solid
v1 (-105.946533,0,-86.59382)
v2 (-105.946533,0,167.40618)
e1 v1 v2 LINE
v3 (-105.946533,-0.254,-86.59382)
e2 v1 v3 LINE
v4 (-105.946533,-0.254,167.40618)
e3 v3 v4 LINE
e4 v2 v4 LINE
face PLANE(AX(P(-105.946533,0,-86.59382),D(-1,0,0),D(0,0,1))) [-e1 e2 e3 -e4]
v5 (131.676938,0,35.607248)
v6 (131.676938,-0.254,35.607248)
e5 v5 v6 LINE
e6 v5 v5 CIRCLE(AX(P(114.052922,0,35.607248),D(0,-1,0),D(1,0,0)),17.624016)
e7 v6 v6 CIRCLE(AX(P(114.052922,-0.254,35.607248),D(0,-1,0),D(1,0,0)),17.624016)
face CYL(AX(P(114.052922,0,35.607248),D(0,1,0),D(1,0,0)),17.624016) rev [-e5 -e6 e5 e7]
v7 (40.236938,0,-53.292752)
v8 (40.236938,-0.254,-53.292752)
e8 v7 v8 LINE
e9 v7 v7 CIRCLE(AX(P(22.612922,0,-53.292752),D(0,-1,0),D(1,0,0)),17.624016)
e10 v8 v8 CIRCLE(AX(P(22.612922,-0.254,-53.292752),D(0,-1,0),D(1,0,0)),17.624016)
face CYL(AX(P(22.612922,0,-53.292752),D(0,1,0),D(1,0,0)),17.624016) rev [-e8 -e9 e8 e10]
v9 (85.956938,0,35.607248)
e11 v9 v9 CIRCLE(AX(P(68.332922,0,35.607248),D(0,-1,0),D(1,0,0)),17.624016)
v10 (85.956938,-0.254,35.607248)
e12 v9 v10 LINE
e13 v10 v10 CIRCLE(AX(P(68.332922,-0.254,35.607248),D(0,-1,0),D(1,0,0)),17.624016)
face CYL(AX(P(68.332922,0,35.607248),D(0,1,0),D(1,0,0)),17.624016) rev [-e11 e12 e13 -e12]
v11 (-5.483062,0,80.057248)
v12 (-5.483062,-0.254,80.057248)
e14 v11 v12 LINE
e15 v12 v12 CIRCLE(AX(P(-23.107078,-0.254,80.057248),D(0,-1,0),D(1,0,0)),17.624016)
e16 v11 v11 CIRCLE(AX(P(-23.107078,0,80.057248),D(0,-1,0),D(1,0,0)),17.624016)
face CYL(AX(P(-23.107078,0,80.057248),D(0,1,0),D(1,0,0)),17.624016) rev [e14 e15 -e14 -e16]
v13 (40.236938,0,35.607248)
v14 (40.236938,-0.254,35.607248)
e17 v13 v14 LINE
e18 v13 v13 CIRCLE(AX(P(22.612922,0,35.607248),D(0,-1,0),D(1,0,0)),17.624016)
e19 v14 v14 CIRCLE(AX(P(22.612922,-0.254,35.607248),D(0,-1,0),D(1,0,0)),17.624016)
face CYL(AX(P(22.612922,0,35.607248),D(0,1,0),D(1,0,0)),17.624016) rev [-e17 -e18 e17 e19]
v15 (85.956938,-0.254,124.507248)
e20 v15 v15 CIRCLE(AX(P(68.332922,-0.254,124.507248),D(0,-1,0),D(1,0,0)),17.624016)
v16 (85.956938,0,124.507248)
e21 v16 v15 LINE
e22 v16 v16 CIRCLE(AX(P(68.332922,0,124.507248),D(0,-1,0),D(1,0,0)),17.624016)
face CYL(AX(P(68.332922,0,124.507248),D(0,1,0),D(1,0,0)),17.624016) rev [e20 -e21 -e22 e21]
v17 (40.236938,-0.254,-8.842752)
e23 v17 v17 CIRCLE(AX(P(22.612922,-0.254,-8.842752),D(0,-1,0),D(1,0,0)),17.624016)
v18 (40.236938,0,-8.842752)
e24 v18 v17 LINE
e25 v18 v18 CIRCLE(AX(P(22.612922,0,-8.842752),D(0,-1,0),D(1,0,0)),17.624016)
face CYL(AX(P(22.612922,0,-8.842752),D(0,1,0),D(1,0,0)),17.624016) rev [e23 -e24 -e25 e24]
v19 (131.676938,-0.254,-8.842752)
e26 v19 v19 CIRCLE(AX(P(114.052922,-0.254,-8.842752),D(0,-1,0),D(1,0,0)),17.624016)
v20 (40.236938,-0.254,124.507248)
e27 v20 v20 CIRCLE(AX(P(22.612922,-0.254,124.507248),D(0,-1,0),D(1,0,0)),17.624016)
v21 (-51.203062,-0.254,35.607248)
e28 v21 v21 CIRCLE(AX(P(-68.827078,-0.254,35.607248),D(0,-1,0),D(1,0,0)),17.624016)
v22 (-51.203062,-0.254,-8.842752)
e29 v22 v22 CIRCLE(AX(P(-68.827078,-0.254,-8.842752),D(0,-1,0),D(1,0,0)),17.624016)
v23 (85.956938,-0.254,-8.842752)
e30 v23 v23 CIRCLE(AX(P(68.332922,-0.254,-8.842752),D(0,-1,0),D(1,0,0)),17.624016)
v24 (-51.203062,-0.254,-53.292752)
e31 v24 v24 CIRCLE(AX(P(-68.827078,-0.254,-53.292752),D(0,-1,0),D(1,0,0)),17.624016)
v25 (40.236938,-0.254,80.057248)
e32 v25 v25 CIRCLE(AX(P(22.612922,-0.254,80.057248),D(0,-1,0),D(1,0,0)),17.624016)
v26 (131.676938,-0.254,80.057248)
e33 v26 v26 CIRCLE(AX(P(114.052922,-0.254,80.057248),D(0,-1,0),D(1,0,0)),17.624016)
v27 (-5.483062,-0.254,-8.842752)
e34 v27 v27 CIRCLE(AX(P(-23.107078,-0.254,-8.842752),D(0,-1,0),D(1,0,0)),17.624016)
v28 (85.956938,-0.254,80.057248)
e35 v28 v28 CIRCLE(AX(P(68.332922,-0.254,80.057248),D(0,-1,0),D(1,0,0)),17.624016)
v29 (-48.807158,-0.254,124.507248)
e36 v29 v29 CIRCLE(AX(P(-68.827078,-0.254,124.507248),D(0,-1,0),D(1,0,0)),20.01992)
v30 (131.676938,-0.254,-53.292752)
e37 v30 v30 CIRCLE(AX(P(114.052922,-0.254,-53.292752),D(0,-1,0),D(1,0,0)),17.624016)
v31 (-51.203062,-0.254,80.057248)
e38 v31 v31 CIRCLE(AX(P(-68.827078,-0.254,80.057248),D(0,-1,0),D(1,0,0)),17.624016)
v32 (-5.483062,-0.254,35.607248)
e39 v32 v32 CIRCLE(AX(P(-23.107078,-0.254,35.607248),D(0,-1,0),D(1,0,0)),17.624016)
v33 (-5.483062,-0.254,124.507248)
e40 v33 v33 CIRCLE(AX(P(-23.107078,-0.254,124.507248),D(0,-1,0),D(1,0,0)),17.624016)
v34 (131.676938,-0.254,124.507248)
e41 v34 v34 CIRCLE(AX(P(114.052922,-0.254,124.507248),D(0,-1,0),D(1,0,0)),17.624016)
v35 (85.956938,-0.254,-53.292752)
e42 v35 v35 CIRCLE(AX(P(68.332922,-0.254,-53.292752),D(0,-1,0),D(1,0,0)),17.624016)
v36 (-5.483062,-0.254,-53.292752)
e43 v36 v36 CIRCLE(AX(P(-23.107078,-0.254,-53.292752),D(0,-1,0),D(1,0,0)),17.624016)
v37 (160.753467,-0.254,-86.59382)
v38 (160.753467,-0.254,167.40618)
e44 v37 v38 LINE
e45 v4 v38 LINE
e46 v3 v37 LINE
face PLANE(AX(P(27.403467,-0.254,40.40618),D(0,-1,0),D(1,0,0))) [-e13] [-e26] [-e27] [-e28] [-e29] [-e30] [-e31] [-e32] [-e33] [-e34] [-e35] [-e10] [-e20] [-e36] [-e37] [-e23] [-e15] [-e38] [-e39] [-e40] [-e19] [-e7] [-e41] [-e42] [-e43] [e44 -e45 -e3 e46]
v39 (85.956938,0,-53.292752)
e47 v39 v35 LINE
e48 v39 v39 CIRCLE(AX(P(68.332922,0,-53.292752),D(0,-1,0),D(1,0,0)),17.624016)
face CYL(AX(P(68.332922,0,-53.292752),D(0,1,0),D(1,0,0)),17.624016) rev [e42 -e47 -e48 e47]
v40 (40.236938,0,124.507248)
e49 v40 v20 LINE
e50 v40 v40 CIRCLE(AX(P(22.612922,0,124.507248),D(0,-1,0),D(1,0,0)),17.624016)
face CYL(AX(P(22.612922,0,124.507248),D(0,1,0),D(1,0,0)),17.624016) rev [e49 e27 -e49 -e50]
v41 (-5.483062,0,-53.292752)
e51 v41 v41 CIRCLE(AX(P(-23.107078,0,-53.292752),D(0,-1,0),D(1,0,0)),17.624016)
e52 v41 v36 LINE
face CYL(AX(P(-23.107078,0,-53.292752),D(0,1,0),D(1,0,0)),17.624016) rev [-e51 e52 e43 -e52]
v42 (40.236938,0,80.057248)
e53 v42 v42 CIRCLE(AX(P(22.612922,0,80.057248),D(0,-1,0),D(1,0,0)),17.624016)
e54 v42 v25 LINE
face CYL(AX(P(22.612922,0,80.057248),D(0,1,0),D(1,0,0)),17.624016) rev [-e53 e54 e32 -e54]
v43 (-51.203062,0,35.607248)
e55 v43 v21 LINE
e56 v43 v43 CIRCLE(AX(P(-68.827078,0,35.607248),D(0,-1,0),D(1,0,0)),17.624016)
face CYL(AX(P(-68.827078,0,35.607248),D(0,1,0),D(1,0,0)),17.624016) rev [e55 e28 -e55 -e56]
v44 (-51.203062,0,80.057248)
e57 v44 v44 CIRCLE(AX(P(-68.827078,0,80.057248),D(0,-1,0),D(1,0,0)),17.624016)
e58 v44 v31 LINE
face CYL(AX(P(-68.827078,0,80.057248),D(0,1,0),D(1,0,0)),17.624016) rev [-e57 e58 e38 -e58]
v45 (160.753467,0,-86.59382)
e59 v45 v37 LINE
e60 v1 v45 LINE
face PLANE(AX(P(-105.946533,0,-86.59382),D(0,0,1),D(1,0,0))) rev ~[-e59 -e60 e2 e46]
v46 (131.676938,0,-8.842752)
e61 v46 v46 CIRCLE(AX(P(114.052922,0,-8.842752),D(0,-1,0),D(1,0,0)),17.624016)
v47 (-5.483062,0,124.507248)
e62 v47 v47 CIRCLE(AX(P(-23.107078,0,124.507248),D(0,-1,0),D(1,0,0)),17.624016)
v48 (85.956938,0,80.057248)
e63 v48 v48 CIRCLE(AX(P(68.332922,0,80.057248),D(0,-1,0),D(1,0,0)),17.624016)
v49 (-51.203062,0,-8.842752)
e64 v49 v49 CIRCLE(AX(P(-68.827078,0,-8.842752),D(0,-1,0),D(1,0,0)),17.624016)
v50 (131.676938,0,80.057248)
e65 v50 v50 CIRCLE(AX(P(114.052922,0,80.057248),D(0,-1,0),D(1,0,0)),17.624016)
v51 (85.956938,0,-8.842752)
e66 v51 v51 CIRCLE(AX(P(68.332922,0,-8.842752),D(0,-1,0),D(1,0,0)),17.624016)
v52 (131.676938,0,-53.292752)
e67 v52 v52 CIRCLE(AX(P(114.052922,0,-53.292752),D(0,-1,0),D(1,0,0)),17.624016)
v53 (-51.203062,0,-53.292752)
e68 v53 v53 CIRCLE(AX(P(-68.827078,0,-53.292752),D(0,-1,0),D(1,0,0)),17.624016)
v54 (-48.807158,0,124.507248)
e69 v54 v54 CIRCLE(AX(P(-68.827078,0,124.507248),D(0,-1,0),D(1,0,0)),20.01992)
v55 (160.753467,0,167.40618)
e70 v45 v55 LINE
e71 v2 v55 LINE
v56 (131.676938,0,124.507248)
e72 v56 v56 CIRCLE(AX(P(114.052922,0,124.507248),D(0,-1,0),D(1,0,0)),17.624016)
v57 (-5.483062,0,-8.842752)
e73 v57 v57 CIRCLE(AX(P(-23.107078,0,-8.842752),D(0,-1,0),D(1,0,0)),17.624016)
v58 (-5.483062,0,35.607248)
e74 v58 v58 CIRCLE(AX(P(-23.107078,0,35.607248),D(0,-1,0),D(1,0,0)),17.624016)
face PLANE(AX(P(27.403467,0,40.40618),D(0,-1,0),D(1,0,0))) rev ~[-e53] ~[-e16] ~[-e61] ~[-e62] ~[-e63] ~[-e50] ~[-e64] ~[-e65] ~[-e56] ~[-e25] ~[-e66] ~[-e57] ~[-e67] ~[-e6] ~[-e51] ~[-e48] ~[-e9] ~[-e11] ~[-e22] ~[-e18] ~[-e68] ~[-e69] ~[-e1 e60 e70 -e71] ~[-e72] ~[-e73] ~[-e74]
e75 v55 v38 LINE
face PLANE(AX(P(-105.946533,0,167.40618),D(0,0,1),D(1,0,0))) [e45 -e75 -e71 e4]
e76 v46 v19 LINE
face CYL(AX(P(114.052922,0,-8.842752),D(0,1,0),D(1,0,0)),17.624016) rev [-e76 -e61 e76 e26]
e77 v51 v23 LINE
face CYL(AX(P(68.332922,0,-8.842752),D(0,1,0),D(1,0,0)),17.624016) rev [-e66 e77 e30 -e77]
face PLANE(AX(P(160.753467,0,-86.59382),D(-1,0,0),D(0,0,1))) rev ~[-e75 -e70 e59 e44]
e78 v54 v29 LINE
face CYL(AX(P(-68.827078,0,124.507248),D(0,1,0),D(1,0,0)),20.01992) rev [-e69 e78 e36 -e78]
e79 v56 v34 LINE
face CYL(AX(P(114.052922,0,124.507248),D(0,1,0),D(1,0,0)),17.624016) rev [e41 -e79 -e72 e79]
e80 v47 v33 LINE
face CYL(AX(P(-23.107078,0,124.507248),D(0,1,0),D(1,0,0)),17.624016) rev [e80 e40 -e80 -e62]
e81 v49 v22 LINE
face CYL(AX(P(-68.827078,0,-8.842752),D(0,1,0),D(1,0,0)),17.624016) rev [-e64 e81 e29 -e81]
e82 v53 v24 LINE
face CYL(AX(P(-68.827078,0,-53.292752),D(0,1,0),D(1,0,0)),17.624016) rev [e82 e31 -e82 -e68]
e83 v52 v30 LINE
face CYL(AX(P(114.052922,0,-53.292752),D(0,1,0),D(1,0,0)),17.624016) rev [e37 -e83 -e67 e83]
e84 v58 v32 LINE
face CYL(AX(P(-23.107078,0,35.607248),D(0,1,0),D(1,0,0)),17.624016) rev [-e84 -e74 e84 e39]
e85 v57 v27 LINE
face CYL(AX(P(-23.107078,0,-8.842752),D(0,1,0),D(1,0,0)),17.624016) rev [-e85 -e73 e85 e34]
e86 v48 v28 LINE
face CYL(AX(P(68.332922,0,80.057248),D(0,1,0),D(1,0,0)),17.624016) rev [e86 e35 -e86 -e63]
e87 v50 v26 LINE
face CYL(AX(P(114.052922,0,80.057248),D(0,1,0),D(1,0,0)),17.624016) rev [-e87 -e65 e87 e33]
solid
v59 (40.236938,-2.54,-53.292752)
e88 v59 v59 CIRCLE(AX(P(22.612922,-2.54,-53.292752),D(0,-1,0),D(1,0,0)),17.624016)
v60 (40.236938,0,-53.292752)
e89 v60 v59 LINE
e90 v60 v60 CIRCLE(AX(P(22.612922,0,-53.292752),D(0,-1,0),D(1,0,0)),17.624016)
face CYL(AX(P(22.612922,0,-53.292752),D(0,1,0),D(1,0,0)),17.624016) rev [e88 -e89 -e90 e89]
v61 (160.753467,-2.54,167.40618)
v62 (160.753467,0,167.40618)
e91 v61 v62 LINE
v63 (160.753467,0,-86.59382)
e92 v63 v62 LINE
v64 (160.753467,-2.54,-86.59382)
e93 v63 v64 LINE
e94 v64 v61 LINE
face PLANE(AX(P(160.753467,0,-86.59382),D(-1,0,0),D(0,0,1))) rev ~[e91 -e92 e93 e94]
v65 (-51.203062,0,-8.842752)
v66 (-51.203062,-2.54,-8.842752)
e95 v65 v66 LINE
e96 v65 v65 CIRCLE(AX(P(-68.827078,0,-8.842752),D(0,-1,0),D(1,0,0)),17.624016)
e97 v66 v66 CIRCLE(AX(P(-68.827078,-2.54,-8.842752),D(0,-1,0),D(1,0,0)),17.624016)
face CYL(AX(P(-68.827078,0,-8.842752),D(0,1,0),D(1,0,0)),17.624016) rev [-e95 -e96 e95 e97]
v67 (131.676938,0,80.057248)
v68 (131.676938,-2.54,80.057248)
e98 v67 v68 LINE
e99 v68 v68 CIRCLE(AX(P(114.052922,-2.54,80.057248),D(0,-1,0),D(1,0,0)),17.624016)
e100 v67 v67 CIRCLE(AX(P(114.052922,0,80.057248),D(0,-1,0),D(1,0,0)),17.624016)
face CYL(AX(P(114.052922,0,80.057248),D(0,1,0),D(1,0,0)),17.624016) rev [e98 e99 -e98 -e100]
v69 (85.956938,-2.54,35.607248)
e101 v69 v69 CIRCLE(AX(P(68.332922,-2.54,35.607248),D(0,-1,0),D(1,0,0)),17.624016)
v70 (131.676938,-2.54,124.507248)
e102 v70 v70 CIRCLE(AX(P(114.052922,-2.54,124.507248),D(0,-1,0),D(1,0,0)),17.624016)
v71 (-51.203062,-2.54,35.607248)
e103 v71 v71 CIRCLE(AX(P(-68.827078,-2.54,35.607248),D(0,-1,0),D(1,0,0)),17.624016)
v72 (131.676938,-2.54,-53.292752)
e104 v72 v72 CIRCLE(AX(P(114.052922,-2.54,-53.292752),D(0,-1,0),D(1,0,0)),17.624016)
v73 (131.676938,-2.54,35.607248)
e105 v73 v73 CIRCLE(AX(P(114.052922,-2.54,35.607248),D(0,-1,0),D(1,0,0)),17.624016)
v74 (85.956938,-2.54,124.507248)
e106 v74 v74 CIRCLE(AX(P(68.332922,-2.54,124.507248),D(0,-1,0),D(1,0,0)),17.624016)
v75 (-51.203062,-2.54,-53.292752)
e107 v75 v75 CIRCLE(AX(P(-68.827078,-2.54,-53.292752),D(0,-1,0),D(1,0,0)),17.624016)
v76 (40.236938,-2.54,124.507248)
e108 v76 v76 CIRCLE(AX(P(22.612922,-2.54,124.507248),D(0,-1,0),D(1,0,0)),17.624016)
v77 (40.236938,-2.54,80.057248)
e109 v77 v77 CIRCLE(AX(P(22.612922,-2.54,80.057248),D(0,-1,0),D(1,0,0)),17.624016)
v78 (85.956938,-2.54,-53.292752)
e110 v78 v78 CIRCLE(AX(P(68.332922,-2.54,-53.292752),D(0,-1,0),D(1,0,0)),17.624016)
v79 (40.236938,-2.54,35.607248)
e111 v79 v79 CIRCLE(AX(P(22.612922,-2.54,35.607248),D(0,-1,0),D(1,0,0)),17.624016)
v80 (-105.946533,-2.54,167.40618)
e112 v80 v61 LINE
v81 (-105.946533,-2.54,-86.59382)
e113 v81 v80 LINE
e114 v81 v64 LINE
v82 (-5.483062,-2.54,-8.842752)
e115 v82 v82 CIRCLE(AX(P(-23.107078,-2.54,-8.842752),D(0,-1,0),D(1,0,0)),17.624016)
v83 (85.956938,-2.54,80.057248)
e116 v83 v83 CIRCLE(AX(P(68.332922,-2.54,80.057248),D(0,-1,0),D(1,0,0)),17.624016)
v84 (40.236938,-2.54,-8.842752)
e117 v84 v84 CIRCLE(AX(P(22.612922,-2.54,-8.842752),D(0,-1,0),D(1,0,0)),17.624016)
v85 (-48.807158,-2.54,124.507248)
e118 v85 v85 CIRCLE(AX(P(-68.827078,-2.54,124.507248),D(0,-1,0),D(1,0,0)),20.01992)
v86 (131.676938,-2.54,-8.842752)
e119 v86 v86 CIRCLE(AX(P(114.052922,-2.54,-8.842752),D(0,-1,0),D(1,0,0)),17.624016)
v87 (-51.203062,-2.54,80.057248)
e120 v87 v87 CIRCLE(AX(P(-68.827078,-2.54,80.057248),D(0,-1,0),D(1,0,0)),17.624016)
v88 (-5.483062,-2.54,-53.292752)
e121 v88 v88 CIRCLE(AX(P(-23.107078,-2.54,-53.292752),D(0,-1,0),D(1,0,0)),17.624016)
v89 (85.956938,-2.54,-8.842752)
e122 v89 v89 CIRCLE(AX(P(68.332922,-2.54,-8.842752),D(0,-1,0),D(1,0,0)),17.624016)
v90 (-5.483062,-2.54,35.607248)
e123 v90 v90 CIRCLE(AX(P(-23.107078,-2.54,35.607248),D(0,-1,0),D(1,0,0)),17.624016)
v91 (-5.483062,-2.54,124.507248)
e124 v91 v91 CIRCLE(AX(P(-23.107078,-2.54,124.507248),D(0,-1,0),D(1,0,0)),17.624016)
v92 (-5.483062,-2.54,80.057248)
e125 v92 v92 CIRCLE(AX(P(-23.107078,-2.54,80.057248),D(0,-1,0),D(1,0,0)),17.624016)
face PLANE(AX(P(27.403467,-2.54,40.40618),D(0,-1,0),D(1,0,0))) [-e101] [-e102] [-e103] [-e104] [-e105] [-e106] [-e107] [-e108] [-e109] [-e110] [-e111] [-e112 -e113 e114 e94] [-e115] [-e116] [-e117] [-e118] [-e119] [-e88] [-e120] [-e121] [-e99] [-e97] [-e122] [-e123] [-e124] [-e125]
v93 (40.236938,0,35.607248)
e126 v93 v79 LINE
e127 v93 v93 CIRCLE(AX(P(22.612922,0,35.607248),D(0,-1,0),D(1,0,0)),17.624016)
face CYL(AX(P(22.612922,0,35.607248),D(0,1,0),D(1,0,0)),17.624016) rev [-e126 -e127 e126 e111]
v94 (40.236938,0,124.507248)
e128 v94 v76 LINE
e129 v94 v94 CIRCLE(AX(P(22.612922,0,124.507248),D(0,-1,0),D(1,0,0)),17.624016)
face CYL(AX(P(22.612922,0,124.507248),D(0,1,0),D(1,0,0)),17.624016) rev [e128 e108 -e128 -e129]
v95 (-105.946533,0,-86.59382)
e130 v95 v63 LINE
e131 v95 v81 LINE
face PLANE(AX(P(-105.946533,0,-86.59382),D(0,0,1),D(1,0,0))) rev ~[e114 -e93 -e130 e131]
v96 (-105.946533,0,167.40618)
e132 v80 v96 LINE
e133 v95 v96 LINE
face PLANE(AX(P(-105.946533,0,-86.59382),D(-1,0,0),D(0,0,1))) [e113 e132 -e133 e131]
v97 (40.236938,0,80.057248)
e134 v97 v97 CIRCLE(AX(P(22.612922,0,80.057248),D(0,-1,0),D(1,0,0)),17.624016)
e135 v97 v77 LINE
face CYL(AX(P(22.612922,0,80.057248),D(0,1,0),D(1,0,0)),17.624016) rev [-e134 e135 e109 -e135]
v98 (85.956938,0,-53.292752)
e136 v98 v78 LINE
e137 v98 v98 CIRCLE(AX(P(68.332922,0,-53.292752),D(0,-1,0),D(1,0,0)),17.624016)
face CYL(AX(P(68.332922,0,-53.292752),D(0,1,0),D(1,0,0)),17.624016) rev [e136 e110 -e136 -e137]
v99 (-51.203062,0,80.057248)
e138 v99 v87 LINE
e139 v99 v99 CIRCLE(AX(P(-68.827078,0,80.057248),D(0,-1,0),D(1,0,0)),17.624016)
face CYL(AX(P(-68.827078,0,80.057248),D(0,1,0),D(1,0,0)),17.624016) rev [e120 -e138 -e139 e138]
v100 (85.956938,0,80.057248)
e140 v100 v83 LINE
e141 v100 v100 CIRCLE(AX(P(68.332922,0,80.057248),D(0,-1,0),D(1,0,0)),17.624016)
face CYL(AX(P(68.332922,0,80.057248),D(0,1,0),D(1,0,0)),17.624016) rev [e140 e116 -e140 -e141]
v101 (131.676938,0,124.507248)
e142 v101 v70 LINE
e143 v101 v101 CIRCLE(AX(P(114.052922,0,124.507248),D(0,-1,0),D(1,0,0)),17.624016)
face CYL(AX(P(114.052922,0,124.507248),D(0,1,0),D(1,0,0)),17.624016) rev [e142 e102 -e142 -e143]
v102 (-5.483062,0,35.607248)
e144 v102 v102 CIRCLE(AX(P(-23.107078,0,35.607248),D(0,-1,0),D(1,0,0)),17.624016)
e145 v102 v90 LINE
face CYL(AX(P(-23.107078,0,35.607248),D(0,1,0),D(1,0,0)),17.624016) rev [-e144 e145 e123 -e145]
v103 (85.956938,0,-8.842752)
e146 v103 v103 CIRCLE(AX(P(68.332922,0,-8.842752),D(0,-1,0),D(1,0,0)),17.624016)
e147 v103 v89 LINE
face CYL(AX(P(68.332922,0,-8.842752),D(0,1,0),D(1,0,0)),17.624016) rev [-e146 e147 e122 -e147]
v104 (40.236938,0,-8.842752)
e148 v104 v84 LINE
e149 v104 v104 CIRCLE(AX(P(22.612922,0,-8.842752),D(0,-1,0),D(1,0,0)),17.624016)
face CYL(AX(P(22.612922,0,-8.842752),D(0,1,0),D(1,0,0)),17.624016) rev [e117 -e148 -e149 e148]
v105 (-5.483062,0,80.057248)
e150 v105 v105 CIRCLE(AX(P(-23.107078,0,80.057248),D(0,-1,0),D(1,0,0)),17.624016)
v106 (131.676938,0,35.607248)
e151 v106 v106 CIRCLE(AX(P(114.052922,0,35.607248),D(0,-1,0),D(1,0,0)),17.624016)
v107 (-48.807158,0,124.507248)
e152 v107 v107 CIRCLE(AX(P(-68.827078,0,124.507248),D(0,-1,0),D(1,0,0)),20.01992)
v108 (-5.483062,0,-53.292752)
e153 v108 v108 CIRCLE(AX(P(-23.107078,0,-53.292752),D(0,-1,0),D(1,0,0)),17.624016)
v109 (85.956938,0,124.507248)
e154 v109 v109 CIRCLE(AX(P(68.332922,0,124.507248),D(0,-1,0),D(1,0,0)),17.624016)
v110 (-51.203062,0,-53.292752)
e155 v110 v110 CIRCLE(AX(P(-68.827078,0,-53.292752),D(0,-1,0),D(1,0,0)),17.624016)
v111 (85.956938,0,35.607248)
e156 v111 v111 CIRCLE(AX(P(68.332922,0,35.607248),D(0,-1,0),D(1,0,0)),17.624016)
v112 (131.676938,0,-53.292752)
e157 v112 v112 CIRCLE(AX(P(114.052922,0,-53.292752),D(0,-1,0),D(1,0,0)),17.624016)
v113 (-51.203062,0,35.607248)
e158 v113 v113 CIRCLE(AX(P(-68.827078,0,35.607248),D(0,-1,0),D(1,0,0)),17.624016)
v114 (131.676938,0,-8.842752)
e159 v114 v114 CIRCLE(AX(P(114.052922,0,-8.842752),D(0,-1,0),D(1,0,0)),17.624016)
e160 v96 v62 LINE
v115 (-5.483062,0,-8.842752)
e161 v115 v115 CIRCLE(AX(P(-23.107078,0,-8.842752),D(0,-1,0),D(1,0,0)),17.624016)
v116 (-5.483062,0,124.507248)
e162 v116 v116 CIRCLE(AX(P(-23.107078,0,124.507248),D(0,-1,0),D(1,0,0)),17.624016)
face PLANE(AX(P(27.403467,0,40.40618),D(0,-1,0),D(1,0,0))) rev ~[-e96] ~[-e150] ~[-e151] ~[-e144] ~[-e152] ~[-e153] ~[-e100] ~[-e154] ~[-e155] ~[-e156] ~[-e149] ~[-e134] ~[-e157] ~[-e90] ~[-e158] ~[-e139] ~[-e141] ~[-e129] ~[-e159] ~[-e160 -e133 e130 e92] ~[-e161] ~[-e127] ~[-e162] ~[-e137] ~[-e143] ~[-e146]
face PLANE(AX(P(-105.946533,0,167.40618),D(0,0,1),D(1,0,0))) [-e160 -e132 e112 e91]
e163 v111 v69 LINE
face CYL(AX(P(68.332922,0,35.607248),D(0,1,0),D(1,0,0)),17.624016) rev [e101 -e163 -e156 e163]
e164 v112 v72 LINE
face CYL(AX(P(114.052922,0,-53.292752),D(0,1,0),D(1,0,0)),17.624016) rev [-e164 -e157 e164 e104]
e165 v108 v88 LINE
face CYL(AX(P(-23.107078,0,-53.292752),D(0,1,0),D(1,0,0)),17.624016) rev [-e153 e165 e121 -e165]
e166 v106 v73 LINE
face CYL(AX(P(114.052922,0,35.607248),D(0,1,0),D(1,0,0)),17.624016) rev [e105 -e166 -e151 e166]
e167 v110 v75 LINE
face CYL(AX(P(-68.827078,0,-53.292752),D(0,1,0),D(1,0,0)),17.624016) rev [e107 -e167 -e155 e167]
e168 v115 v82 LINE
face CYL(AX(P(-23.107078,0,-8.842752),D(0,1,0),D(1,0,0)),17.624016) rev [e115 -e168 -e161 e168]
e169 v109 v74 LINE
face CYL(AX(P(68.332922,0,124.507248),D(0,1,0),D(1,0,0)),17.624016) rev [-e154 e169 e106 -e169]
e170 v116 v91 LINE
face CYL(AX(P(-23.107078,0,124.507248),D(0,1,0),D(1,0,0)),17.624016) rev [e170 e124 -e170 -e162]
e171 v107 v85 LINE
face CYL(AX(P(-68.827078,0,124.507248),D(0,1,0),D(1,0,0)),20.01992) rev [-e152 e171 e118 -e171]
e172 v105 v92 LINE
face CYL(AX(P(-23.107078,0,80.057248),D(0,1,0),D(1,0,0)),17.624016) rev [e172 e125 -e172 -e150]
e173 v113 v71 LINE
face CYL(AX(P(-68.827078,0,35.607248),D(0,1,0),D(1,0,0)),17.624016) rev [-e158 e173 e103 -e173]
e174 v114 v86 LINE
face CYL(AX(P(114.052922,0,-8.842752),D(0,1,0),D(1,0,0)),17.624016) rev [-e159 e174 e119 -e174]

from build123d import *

# Parameters (mm, degrees)
F0_W     = 266.7
F0_H     = 254
F0_R     = 17.624016
F0_R_2   = 20.01992
F1_DEPTH = 2.54
F2_DEPTH = 1.27
F3_DEPTH = 0.254


with BuildPart() as f1:
    # F0 (on Front) → F1 (new body)
    with BuildSketch(Plane.XZ):
        with Locations((27.403467, 40.40618)):
            Rectangle(F0_W, F0_H)
        with Locations((-68.827078, -53.292752)):
            Circle(F0_R, mode=Mode.SUBTRACT)
        with Locations((-23.107078, -53.292752)):
            Circle(F0_R, mode=Mode.SUBTRACT)
        with Locations((22.612922, -53.292752)):
            Circle(F0_R, mode=Mode.SUBTRACT)
        with Locations((-68.827078, -8.842752)):
            Circle(F0_R, mode=Mode.SUBTRACT)
        with Locations((-68.827078, 35.607248)):
            Circle(F0_R, mode=Mode.SUBTRACT)
        with Locations((-23.107078, -8.842752)):
            Circle(F0_R, mode=Mode.SUBTRACT)
        with Locations((22.612922, -8.842752)):
            Circle(F0_R, mode=Mode.SUBTRACT)
        with Locations((-23.107078, 35.607248)):
            Circle(F0_R, mode=Mode.SUBTRACT)
        with Locations((22.612922, 35.607248)):
            Circle(F0_R, mode=Mode.SUBTRACT)
        with Locations((68.332922, -53.292752)):
            Circle(F0_R, mode=Mode.SUBTRACT)
        with Locations((114.052922, -53.292752)):
            Circle(F0_R, mode=Mode.SUBTRACT)
        with Locations((68.332922, -8.842752)):
            Circle(F0_R, mode=Mode.SUBTRACT)
        with Locations((68.332922, 35.607248)):
            Circle(F0_R, mode=Mode.SUBTRACT)
        with Locations((114.052922, -8.842752)):
            Circle(F0_R, mode=Mode.SUBTRACT)
        with Locations((114.052922, 35.607248)):
            Circle(F0_R, mode=Mode.SUBTRACT)
        with Locations((-68.827078, 80.057248)):
            Circle(F0_R, mode=Mode.SUBTRACT)
        with Locations((-23.107078, 80.057248)):
            Circle(F0_R, mode=Mode.SUBTRACT)
        with Locations((22.612922, 80.057248)):
            Circle(F0_R, mode=Mode.SUBTRACT)
        with Locations((-68.827078, 124.507248)):
            Circle(F0_R_2, mode=Mode.SUBTRACT)
        with Locations((-23.107078, 124.507248)):
            Circle(F0_R, mode=Mode.SUBTRACT)
        with Locations((22.612922, 124.507248)):
            Circle(F0_R, mode=Mode.SUBTRACT)
        with Locations((68.332922, 80.057248)):
            Circle(F0_R, mode=Mode.SUBTRACT)
        with Locations((114.052922, 80.057248)):
            Circle(F0_R, mode=Mode.SUBTRACT)
        with Locations((68.332922, 124.507248)):
            Circle(F0_R, mode=Mode.SUBTRACT)
        with Locations((114.052922, 124.507248)):
            Circle(F0_R, mode=Mode.SUBTRACT)
    extrude(amount=F1_DEPTH)

    # F0 (on Front) → F2 (join)
    with BuildSketch(Plane.XZ):
        with Locations((27.403467, 40.40618)):
            Rectangle(F0_W, F0_H)
        with Locations((-68.827078, -53.292752)):
            Circle(F0_R, mode=Mode.SUBTRACT)
        with Locations((-23.107078, -53.292752)):
            Circle(F0_R, mode=Mode.SUBTRACT)
        with Locations((22.612922, -53.292752)):
            Circle(F0_R, mode=Mode.SUBTRACT)
        with Locations((-68.827078, -8.842752)):
            Circle(F0_R, mode=Mode.SUBTRACT)
        with Locations((-68.827078, 35.607248)):
            Circle(F0_R, mode=Mode.SUBTRACT)
        with Locations((-23.107078, -8.842752)):
            Circle(F0_R, mode=Mode.SUBTRACT)
        with Locations((22.612922, -8.842752)):
            Circle(F0_R, mode=Mode.SUBTRACT)
        with Locations((-23.107078, 35.607248)):
            Circle(F0_R, mode=Mode.SUBTRACT)
        with Locations((22.612922, 35.607248)):
            Circle(F0_R, mode=Mode.SUBTRACT)
        with Locations((68.332922, -53.292752)):
            Circle(F0_R, mode=Mode.SUBTRACT)
        with Locations((114.052922, -53.292752)):
            Circle(F0_R, mode=Mode.SUBTRACT)
        with Locations((68.332922, -8.842752)):
            Circle(F0_R, mode=Mode.SUBTRACT)
        with Locations((68.332922, 35.607248)):
            Circle(F0_R, mode=Mode.SUBTRACT)
        with Locations((114.052922, -8.842752)):
            Circle(F0_R, mode=Mode.SUBTRACT)
        with Locations((114.052922, 35.607248)):
            Circle(F0_R, mode=Mode.SUBTRACT)
        with Locations((-68.827078, 80.057248)):
            Circle(F0_R, mode=Mode.SUBTRACT)
        with Locations((-23.107078, 80.057248)):
            Circle(F0_R, mode=Mode.SUBTRACT)
        with Locations((22.612922, 80.057248)):
            Circle(F0_R, mode=Mode.SUBTRACT)
        with Locations((-68.827078, 124.507248)):
            Circle(F0_R_2, mode=Mode.SUBTRACT)
        with Locations((-23.107078, 124.507248)):
            Circle(F0_R, mode=Mode.SUBTRACT)
        with Locations((22.612922, 124.507248)):
            Circle(F0_R, mode=Mode.SUBTRACT)
        with Locations((68.332922, 80.057248)):
            Circle(F0_R, mode=Mode.SUBTRACT)
        with Locations((114.052922, 80.057248)):
            Circle(F0_R, mode=Mode.SUBTRACT)
        with Locations((68.332922, 124.507248)):
            Circle(F0_R, mode=Mode.SUBTRACT)
        with Locations((114.052922, 124.507248)):
            Circle(F0_R, mode=Mode.SUBTRACT)
    extrude(amount=F2_DEPTH)


with BuildPart() as f3:
    # F0 (on Front) → F3 (new body)
    with BuildSketch(Plane.XZ):
        with Locations((27.403467, 40.40618)):
            Rectangle(F0_W, F0_H)
        with Locations((-68.827078, -53.292752)):
            Circle(F0_R, mode=Mode.SUBTRACT)
        with Locations((-23.107078, -53.292752)):
            Circle(F0_R, mode=Mode.SUBTRACT)
        with Locations((22.612922, -53.292752)):
            Circle(F0_R, mode=Mode.SUBTRACT)
        with Locations((-68.827078, -8.842752)):
            Circle(F0_R, mode=Mode.SUBTRACT)
        with Locations((-68.827078, 35.607248)):
            Circle(F0_R, mode=Mode.SUBTRACT)
        with Locations((-23.107078, -8.842752)):
            Circle(F0_R, mode=Mode.SUBTRACT)
        with Locations((22.612922, -8.842752)):
            Circle(F0_R, mode=Mode.SUBTRACT)
        with Locations((-23.107078, 35.607248)):
            Circle(F0_R, mode=Mode.SUBTRACT)
        with Locations((22.612922, 35.607248)):
            Circle(F0_R, mode=Mode.SUBTRACT)
        with Locations((68.332922, -53.292752)):
            Circle(F0_R, mode=Mode.SUBTRACT)
        with Locations((114.052922, -53.292752)):
            Circle(F0_R, mode=Mode.SUBTRACT)
        with Locations((68.332922, -8.842752)):
            Circle(F0_R, mode=Mode.SUBTRACT)
        with Locations((68.332922, 35.607248)):
            Circle(F0_R, mode=Mode.SUBTRACT)
        with Locations((114.052922, -8.842752)):
            Circle(F0_R, mode=Mode.SUBTRACT)
        with Locations((114.052922, 35.607248)):
            Circle(F0_R, mode=Mode.SUBTRACT)
        with Locations((-68.827078, 80.057248)):
            Circle(F0_R, mode=Mode.SUBTRACT)
        with Locations((-23.107078, 80.057248)):
            Circle(F0_R, mode=Mode.SUBTRACT)
        with Locations((22.612922, 80.057248)):
            Circle(F0_R, mode=Mode.SUBTRACT)
        with Locations((-68.827078, 124.507248)):
            Circle(F0_R_2, mode=Mode.SUBTRACT)
        with Locations((-23.107078, 124.507248)):
            Circle(F0_R, mode=Mode.SUBTRACT)
        with Locations((22.612922, 124.507248)):
            Circle(F0_R, mode=Mode.SUBTRACT)
        with Locations((68.332922, 80.057248)):
            Circle(F0_R, mode=Mode.SUBTRACT)
        with Locations((114.052922, 80.057248)):
            Circle(F0_R, mode=Mode.SUBTRACT)
        with Locations((68.332922, 124.507248)):
            Circle(F0_R, mode=Mode.SUBTRACT)
        with Locations((114.052922, 124.507248)):
            Circle(F0_R, mode=Mode.SUBTRACT)
    extrude(amount=F3_DEPTH)


solid = Compound([f1.part, f3.part])
